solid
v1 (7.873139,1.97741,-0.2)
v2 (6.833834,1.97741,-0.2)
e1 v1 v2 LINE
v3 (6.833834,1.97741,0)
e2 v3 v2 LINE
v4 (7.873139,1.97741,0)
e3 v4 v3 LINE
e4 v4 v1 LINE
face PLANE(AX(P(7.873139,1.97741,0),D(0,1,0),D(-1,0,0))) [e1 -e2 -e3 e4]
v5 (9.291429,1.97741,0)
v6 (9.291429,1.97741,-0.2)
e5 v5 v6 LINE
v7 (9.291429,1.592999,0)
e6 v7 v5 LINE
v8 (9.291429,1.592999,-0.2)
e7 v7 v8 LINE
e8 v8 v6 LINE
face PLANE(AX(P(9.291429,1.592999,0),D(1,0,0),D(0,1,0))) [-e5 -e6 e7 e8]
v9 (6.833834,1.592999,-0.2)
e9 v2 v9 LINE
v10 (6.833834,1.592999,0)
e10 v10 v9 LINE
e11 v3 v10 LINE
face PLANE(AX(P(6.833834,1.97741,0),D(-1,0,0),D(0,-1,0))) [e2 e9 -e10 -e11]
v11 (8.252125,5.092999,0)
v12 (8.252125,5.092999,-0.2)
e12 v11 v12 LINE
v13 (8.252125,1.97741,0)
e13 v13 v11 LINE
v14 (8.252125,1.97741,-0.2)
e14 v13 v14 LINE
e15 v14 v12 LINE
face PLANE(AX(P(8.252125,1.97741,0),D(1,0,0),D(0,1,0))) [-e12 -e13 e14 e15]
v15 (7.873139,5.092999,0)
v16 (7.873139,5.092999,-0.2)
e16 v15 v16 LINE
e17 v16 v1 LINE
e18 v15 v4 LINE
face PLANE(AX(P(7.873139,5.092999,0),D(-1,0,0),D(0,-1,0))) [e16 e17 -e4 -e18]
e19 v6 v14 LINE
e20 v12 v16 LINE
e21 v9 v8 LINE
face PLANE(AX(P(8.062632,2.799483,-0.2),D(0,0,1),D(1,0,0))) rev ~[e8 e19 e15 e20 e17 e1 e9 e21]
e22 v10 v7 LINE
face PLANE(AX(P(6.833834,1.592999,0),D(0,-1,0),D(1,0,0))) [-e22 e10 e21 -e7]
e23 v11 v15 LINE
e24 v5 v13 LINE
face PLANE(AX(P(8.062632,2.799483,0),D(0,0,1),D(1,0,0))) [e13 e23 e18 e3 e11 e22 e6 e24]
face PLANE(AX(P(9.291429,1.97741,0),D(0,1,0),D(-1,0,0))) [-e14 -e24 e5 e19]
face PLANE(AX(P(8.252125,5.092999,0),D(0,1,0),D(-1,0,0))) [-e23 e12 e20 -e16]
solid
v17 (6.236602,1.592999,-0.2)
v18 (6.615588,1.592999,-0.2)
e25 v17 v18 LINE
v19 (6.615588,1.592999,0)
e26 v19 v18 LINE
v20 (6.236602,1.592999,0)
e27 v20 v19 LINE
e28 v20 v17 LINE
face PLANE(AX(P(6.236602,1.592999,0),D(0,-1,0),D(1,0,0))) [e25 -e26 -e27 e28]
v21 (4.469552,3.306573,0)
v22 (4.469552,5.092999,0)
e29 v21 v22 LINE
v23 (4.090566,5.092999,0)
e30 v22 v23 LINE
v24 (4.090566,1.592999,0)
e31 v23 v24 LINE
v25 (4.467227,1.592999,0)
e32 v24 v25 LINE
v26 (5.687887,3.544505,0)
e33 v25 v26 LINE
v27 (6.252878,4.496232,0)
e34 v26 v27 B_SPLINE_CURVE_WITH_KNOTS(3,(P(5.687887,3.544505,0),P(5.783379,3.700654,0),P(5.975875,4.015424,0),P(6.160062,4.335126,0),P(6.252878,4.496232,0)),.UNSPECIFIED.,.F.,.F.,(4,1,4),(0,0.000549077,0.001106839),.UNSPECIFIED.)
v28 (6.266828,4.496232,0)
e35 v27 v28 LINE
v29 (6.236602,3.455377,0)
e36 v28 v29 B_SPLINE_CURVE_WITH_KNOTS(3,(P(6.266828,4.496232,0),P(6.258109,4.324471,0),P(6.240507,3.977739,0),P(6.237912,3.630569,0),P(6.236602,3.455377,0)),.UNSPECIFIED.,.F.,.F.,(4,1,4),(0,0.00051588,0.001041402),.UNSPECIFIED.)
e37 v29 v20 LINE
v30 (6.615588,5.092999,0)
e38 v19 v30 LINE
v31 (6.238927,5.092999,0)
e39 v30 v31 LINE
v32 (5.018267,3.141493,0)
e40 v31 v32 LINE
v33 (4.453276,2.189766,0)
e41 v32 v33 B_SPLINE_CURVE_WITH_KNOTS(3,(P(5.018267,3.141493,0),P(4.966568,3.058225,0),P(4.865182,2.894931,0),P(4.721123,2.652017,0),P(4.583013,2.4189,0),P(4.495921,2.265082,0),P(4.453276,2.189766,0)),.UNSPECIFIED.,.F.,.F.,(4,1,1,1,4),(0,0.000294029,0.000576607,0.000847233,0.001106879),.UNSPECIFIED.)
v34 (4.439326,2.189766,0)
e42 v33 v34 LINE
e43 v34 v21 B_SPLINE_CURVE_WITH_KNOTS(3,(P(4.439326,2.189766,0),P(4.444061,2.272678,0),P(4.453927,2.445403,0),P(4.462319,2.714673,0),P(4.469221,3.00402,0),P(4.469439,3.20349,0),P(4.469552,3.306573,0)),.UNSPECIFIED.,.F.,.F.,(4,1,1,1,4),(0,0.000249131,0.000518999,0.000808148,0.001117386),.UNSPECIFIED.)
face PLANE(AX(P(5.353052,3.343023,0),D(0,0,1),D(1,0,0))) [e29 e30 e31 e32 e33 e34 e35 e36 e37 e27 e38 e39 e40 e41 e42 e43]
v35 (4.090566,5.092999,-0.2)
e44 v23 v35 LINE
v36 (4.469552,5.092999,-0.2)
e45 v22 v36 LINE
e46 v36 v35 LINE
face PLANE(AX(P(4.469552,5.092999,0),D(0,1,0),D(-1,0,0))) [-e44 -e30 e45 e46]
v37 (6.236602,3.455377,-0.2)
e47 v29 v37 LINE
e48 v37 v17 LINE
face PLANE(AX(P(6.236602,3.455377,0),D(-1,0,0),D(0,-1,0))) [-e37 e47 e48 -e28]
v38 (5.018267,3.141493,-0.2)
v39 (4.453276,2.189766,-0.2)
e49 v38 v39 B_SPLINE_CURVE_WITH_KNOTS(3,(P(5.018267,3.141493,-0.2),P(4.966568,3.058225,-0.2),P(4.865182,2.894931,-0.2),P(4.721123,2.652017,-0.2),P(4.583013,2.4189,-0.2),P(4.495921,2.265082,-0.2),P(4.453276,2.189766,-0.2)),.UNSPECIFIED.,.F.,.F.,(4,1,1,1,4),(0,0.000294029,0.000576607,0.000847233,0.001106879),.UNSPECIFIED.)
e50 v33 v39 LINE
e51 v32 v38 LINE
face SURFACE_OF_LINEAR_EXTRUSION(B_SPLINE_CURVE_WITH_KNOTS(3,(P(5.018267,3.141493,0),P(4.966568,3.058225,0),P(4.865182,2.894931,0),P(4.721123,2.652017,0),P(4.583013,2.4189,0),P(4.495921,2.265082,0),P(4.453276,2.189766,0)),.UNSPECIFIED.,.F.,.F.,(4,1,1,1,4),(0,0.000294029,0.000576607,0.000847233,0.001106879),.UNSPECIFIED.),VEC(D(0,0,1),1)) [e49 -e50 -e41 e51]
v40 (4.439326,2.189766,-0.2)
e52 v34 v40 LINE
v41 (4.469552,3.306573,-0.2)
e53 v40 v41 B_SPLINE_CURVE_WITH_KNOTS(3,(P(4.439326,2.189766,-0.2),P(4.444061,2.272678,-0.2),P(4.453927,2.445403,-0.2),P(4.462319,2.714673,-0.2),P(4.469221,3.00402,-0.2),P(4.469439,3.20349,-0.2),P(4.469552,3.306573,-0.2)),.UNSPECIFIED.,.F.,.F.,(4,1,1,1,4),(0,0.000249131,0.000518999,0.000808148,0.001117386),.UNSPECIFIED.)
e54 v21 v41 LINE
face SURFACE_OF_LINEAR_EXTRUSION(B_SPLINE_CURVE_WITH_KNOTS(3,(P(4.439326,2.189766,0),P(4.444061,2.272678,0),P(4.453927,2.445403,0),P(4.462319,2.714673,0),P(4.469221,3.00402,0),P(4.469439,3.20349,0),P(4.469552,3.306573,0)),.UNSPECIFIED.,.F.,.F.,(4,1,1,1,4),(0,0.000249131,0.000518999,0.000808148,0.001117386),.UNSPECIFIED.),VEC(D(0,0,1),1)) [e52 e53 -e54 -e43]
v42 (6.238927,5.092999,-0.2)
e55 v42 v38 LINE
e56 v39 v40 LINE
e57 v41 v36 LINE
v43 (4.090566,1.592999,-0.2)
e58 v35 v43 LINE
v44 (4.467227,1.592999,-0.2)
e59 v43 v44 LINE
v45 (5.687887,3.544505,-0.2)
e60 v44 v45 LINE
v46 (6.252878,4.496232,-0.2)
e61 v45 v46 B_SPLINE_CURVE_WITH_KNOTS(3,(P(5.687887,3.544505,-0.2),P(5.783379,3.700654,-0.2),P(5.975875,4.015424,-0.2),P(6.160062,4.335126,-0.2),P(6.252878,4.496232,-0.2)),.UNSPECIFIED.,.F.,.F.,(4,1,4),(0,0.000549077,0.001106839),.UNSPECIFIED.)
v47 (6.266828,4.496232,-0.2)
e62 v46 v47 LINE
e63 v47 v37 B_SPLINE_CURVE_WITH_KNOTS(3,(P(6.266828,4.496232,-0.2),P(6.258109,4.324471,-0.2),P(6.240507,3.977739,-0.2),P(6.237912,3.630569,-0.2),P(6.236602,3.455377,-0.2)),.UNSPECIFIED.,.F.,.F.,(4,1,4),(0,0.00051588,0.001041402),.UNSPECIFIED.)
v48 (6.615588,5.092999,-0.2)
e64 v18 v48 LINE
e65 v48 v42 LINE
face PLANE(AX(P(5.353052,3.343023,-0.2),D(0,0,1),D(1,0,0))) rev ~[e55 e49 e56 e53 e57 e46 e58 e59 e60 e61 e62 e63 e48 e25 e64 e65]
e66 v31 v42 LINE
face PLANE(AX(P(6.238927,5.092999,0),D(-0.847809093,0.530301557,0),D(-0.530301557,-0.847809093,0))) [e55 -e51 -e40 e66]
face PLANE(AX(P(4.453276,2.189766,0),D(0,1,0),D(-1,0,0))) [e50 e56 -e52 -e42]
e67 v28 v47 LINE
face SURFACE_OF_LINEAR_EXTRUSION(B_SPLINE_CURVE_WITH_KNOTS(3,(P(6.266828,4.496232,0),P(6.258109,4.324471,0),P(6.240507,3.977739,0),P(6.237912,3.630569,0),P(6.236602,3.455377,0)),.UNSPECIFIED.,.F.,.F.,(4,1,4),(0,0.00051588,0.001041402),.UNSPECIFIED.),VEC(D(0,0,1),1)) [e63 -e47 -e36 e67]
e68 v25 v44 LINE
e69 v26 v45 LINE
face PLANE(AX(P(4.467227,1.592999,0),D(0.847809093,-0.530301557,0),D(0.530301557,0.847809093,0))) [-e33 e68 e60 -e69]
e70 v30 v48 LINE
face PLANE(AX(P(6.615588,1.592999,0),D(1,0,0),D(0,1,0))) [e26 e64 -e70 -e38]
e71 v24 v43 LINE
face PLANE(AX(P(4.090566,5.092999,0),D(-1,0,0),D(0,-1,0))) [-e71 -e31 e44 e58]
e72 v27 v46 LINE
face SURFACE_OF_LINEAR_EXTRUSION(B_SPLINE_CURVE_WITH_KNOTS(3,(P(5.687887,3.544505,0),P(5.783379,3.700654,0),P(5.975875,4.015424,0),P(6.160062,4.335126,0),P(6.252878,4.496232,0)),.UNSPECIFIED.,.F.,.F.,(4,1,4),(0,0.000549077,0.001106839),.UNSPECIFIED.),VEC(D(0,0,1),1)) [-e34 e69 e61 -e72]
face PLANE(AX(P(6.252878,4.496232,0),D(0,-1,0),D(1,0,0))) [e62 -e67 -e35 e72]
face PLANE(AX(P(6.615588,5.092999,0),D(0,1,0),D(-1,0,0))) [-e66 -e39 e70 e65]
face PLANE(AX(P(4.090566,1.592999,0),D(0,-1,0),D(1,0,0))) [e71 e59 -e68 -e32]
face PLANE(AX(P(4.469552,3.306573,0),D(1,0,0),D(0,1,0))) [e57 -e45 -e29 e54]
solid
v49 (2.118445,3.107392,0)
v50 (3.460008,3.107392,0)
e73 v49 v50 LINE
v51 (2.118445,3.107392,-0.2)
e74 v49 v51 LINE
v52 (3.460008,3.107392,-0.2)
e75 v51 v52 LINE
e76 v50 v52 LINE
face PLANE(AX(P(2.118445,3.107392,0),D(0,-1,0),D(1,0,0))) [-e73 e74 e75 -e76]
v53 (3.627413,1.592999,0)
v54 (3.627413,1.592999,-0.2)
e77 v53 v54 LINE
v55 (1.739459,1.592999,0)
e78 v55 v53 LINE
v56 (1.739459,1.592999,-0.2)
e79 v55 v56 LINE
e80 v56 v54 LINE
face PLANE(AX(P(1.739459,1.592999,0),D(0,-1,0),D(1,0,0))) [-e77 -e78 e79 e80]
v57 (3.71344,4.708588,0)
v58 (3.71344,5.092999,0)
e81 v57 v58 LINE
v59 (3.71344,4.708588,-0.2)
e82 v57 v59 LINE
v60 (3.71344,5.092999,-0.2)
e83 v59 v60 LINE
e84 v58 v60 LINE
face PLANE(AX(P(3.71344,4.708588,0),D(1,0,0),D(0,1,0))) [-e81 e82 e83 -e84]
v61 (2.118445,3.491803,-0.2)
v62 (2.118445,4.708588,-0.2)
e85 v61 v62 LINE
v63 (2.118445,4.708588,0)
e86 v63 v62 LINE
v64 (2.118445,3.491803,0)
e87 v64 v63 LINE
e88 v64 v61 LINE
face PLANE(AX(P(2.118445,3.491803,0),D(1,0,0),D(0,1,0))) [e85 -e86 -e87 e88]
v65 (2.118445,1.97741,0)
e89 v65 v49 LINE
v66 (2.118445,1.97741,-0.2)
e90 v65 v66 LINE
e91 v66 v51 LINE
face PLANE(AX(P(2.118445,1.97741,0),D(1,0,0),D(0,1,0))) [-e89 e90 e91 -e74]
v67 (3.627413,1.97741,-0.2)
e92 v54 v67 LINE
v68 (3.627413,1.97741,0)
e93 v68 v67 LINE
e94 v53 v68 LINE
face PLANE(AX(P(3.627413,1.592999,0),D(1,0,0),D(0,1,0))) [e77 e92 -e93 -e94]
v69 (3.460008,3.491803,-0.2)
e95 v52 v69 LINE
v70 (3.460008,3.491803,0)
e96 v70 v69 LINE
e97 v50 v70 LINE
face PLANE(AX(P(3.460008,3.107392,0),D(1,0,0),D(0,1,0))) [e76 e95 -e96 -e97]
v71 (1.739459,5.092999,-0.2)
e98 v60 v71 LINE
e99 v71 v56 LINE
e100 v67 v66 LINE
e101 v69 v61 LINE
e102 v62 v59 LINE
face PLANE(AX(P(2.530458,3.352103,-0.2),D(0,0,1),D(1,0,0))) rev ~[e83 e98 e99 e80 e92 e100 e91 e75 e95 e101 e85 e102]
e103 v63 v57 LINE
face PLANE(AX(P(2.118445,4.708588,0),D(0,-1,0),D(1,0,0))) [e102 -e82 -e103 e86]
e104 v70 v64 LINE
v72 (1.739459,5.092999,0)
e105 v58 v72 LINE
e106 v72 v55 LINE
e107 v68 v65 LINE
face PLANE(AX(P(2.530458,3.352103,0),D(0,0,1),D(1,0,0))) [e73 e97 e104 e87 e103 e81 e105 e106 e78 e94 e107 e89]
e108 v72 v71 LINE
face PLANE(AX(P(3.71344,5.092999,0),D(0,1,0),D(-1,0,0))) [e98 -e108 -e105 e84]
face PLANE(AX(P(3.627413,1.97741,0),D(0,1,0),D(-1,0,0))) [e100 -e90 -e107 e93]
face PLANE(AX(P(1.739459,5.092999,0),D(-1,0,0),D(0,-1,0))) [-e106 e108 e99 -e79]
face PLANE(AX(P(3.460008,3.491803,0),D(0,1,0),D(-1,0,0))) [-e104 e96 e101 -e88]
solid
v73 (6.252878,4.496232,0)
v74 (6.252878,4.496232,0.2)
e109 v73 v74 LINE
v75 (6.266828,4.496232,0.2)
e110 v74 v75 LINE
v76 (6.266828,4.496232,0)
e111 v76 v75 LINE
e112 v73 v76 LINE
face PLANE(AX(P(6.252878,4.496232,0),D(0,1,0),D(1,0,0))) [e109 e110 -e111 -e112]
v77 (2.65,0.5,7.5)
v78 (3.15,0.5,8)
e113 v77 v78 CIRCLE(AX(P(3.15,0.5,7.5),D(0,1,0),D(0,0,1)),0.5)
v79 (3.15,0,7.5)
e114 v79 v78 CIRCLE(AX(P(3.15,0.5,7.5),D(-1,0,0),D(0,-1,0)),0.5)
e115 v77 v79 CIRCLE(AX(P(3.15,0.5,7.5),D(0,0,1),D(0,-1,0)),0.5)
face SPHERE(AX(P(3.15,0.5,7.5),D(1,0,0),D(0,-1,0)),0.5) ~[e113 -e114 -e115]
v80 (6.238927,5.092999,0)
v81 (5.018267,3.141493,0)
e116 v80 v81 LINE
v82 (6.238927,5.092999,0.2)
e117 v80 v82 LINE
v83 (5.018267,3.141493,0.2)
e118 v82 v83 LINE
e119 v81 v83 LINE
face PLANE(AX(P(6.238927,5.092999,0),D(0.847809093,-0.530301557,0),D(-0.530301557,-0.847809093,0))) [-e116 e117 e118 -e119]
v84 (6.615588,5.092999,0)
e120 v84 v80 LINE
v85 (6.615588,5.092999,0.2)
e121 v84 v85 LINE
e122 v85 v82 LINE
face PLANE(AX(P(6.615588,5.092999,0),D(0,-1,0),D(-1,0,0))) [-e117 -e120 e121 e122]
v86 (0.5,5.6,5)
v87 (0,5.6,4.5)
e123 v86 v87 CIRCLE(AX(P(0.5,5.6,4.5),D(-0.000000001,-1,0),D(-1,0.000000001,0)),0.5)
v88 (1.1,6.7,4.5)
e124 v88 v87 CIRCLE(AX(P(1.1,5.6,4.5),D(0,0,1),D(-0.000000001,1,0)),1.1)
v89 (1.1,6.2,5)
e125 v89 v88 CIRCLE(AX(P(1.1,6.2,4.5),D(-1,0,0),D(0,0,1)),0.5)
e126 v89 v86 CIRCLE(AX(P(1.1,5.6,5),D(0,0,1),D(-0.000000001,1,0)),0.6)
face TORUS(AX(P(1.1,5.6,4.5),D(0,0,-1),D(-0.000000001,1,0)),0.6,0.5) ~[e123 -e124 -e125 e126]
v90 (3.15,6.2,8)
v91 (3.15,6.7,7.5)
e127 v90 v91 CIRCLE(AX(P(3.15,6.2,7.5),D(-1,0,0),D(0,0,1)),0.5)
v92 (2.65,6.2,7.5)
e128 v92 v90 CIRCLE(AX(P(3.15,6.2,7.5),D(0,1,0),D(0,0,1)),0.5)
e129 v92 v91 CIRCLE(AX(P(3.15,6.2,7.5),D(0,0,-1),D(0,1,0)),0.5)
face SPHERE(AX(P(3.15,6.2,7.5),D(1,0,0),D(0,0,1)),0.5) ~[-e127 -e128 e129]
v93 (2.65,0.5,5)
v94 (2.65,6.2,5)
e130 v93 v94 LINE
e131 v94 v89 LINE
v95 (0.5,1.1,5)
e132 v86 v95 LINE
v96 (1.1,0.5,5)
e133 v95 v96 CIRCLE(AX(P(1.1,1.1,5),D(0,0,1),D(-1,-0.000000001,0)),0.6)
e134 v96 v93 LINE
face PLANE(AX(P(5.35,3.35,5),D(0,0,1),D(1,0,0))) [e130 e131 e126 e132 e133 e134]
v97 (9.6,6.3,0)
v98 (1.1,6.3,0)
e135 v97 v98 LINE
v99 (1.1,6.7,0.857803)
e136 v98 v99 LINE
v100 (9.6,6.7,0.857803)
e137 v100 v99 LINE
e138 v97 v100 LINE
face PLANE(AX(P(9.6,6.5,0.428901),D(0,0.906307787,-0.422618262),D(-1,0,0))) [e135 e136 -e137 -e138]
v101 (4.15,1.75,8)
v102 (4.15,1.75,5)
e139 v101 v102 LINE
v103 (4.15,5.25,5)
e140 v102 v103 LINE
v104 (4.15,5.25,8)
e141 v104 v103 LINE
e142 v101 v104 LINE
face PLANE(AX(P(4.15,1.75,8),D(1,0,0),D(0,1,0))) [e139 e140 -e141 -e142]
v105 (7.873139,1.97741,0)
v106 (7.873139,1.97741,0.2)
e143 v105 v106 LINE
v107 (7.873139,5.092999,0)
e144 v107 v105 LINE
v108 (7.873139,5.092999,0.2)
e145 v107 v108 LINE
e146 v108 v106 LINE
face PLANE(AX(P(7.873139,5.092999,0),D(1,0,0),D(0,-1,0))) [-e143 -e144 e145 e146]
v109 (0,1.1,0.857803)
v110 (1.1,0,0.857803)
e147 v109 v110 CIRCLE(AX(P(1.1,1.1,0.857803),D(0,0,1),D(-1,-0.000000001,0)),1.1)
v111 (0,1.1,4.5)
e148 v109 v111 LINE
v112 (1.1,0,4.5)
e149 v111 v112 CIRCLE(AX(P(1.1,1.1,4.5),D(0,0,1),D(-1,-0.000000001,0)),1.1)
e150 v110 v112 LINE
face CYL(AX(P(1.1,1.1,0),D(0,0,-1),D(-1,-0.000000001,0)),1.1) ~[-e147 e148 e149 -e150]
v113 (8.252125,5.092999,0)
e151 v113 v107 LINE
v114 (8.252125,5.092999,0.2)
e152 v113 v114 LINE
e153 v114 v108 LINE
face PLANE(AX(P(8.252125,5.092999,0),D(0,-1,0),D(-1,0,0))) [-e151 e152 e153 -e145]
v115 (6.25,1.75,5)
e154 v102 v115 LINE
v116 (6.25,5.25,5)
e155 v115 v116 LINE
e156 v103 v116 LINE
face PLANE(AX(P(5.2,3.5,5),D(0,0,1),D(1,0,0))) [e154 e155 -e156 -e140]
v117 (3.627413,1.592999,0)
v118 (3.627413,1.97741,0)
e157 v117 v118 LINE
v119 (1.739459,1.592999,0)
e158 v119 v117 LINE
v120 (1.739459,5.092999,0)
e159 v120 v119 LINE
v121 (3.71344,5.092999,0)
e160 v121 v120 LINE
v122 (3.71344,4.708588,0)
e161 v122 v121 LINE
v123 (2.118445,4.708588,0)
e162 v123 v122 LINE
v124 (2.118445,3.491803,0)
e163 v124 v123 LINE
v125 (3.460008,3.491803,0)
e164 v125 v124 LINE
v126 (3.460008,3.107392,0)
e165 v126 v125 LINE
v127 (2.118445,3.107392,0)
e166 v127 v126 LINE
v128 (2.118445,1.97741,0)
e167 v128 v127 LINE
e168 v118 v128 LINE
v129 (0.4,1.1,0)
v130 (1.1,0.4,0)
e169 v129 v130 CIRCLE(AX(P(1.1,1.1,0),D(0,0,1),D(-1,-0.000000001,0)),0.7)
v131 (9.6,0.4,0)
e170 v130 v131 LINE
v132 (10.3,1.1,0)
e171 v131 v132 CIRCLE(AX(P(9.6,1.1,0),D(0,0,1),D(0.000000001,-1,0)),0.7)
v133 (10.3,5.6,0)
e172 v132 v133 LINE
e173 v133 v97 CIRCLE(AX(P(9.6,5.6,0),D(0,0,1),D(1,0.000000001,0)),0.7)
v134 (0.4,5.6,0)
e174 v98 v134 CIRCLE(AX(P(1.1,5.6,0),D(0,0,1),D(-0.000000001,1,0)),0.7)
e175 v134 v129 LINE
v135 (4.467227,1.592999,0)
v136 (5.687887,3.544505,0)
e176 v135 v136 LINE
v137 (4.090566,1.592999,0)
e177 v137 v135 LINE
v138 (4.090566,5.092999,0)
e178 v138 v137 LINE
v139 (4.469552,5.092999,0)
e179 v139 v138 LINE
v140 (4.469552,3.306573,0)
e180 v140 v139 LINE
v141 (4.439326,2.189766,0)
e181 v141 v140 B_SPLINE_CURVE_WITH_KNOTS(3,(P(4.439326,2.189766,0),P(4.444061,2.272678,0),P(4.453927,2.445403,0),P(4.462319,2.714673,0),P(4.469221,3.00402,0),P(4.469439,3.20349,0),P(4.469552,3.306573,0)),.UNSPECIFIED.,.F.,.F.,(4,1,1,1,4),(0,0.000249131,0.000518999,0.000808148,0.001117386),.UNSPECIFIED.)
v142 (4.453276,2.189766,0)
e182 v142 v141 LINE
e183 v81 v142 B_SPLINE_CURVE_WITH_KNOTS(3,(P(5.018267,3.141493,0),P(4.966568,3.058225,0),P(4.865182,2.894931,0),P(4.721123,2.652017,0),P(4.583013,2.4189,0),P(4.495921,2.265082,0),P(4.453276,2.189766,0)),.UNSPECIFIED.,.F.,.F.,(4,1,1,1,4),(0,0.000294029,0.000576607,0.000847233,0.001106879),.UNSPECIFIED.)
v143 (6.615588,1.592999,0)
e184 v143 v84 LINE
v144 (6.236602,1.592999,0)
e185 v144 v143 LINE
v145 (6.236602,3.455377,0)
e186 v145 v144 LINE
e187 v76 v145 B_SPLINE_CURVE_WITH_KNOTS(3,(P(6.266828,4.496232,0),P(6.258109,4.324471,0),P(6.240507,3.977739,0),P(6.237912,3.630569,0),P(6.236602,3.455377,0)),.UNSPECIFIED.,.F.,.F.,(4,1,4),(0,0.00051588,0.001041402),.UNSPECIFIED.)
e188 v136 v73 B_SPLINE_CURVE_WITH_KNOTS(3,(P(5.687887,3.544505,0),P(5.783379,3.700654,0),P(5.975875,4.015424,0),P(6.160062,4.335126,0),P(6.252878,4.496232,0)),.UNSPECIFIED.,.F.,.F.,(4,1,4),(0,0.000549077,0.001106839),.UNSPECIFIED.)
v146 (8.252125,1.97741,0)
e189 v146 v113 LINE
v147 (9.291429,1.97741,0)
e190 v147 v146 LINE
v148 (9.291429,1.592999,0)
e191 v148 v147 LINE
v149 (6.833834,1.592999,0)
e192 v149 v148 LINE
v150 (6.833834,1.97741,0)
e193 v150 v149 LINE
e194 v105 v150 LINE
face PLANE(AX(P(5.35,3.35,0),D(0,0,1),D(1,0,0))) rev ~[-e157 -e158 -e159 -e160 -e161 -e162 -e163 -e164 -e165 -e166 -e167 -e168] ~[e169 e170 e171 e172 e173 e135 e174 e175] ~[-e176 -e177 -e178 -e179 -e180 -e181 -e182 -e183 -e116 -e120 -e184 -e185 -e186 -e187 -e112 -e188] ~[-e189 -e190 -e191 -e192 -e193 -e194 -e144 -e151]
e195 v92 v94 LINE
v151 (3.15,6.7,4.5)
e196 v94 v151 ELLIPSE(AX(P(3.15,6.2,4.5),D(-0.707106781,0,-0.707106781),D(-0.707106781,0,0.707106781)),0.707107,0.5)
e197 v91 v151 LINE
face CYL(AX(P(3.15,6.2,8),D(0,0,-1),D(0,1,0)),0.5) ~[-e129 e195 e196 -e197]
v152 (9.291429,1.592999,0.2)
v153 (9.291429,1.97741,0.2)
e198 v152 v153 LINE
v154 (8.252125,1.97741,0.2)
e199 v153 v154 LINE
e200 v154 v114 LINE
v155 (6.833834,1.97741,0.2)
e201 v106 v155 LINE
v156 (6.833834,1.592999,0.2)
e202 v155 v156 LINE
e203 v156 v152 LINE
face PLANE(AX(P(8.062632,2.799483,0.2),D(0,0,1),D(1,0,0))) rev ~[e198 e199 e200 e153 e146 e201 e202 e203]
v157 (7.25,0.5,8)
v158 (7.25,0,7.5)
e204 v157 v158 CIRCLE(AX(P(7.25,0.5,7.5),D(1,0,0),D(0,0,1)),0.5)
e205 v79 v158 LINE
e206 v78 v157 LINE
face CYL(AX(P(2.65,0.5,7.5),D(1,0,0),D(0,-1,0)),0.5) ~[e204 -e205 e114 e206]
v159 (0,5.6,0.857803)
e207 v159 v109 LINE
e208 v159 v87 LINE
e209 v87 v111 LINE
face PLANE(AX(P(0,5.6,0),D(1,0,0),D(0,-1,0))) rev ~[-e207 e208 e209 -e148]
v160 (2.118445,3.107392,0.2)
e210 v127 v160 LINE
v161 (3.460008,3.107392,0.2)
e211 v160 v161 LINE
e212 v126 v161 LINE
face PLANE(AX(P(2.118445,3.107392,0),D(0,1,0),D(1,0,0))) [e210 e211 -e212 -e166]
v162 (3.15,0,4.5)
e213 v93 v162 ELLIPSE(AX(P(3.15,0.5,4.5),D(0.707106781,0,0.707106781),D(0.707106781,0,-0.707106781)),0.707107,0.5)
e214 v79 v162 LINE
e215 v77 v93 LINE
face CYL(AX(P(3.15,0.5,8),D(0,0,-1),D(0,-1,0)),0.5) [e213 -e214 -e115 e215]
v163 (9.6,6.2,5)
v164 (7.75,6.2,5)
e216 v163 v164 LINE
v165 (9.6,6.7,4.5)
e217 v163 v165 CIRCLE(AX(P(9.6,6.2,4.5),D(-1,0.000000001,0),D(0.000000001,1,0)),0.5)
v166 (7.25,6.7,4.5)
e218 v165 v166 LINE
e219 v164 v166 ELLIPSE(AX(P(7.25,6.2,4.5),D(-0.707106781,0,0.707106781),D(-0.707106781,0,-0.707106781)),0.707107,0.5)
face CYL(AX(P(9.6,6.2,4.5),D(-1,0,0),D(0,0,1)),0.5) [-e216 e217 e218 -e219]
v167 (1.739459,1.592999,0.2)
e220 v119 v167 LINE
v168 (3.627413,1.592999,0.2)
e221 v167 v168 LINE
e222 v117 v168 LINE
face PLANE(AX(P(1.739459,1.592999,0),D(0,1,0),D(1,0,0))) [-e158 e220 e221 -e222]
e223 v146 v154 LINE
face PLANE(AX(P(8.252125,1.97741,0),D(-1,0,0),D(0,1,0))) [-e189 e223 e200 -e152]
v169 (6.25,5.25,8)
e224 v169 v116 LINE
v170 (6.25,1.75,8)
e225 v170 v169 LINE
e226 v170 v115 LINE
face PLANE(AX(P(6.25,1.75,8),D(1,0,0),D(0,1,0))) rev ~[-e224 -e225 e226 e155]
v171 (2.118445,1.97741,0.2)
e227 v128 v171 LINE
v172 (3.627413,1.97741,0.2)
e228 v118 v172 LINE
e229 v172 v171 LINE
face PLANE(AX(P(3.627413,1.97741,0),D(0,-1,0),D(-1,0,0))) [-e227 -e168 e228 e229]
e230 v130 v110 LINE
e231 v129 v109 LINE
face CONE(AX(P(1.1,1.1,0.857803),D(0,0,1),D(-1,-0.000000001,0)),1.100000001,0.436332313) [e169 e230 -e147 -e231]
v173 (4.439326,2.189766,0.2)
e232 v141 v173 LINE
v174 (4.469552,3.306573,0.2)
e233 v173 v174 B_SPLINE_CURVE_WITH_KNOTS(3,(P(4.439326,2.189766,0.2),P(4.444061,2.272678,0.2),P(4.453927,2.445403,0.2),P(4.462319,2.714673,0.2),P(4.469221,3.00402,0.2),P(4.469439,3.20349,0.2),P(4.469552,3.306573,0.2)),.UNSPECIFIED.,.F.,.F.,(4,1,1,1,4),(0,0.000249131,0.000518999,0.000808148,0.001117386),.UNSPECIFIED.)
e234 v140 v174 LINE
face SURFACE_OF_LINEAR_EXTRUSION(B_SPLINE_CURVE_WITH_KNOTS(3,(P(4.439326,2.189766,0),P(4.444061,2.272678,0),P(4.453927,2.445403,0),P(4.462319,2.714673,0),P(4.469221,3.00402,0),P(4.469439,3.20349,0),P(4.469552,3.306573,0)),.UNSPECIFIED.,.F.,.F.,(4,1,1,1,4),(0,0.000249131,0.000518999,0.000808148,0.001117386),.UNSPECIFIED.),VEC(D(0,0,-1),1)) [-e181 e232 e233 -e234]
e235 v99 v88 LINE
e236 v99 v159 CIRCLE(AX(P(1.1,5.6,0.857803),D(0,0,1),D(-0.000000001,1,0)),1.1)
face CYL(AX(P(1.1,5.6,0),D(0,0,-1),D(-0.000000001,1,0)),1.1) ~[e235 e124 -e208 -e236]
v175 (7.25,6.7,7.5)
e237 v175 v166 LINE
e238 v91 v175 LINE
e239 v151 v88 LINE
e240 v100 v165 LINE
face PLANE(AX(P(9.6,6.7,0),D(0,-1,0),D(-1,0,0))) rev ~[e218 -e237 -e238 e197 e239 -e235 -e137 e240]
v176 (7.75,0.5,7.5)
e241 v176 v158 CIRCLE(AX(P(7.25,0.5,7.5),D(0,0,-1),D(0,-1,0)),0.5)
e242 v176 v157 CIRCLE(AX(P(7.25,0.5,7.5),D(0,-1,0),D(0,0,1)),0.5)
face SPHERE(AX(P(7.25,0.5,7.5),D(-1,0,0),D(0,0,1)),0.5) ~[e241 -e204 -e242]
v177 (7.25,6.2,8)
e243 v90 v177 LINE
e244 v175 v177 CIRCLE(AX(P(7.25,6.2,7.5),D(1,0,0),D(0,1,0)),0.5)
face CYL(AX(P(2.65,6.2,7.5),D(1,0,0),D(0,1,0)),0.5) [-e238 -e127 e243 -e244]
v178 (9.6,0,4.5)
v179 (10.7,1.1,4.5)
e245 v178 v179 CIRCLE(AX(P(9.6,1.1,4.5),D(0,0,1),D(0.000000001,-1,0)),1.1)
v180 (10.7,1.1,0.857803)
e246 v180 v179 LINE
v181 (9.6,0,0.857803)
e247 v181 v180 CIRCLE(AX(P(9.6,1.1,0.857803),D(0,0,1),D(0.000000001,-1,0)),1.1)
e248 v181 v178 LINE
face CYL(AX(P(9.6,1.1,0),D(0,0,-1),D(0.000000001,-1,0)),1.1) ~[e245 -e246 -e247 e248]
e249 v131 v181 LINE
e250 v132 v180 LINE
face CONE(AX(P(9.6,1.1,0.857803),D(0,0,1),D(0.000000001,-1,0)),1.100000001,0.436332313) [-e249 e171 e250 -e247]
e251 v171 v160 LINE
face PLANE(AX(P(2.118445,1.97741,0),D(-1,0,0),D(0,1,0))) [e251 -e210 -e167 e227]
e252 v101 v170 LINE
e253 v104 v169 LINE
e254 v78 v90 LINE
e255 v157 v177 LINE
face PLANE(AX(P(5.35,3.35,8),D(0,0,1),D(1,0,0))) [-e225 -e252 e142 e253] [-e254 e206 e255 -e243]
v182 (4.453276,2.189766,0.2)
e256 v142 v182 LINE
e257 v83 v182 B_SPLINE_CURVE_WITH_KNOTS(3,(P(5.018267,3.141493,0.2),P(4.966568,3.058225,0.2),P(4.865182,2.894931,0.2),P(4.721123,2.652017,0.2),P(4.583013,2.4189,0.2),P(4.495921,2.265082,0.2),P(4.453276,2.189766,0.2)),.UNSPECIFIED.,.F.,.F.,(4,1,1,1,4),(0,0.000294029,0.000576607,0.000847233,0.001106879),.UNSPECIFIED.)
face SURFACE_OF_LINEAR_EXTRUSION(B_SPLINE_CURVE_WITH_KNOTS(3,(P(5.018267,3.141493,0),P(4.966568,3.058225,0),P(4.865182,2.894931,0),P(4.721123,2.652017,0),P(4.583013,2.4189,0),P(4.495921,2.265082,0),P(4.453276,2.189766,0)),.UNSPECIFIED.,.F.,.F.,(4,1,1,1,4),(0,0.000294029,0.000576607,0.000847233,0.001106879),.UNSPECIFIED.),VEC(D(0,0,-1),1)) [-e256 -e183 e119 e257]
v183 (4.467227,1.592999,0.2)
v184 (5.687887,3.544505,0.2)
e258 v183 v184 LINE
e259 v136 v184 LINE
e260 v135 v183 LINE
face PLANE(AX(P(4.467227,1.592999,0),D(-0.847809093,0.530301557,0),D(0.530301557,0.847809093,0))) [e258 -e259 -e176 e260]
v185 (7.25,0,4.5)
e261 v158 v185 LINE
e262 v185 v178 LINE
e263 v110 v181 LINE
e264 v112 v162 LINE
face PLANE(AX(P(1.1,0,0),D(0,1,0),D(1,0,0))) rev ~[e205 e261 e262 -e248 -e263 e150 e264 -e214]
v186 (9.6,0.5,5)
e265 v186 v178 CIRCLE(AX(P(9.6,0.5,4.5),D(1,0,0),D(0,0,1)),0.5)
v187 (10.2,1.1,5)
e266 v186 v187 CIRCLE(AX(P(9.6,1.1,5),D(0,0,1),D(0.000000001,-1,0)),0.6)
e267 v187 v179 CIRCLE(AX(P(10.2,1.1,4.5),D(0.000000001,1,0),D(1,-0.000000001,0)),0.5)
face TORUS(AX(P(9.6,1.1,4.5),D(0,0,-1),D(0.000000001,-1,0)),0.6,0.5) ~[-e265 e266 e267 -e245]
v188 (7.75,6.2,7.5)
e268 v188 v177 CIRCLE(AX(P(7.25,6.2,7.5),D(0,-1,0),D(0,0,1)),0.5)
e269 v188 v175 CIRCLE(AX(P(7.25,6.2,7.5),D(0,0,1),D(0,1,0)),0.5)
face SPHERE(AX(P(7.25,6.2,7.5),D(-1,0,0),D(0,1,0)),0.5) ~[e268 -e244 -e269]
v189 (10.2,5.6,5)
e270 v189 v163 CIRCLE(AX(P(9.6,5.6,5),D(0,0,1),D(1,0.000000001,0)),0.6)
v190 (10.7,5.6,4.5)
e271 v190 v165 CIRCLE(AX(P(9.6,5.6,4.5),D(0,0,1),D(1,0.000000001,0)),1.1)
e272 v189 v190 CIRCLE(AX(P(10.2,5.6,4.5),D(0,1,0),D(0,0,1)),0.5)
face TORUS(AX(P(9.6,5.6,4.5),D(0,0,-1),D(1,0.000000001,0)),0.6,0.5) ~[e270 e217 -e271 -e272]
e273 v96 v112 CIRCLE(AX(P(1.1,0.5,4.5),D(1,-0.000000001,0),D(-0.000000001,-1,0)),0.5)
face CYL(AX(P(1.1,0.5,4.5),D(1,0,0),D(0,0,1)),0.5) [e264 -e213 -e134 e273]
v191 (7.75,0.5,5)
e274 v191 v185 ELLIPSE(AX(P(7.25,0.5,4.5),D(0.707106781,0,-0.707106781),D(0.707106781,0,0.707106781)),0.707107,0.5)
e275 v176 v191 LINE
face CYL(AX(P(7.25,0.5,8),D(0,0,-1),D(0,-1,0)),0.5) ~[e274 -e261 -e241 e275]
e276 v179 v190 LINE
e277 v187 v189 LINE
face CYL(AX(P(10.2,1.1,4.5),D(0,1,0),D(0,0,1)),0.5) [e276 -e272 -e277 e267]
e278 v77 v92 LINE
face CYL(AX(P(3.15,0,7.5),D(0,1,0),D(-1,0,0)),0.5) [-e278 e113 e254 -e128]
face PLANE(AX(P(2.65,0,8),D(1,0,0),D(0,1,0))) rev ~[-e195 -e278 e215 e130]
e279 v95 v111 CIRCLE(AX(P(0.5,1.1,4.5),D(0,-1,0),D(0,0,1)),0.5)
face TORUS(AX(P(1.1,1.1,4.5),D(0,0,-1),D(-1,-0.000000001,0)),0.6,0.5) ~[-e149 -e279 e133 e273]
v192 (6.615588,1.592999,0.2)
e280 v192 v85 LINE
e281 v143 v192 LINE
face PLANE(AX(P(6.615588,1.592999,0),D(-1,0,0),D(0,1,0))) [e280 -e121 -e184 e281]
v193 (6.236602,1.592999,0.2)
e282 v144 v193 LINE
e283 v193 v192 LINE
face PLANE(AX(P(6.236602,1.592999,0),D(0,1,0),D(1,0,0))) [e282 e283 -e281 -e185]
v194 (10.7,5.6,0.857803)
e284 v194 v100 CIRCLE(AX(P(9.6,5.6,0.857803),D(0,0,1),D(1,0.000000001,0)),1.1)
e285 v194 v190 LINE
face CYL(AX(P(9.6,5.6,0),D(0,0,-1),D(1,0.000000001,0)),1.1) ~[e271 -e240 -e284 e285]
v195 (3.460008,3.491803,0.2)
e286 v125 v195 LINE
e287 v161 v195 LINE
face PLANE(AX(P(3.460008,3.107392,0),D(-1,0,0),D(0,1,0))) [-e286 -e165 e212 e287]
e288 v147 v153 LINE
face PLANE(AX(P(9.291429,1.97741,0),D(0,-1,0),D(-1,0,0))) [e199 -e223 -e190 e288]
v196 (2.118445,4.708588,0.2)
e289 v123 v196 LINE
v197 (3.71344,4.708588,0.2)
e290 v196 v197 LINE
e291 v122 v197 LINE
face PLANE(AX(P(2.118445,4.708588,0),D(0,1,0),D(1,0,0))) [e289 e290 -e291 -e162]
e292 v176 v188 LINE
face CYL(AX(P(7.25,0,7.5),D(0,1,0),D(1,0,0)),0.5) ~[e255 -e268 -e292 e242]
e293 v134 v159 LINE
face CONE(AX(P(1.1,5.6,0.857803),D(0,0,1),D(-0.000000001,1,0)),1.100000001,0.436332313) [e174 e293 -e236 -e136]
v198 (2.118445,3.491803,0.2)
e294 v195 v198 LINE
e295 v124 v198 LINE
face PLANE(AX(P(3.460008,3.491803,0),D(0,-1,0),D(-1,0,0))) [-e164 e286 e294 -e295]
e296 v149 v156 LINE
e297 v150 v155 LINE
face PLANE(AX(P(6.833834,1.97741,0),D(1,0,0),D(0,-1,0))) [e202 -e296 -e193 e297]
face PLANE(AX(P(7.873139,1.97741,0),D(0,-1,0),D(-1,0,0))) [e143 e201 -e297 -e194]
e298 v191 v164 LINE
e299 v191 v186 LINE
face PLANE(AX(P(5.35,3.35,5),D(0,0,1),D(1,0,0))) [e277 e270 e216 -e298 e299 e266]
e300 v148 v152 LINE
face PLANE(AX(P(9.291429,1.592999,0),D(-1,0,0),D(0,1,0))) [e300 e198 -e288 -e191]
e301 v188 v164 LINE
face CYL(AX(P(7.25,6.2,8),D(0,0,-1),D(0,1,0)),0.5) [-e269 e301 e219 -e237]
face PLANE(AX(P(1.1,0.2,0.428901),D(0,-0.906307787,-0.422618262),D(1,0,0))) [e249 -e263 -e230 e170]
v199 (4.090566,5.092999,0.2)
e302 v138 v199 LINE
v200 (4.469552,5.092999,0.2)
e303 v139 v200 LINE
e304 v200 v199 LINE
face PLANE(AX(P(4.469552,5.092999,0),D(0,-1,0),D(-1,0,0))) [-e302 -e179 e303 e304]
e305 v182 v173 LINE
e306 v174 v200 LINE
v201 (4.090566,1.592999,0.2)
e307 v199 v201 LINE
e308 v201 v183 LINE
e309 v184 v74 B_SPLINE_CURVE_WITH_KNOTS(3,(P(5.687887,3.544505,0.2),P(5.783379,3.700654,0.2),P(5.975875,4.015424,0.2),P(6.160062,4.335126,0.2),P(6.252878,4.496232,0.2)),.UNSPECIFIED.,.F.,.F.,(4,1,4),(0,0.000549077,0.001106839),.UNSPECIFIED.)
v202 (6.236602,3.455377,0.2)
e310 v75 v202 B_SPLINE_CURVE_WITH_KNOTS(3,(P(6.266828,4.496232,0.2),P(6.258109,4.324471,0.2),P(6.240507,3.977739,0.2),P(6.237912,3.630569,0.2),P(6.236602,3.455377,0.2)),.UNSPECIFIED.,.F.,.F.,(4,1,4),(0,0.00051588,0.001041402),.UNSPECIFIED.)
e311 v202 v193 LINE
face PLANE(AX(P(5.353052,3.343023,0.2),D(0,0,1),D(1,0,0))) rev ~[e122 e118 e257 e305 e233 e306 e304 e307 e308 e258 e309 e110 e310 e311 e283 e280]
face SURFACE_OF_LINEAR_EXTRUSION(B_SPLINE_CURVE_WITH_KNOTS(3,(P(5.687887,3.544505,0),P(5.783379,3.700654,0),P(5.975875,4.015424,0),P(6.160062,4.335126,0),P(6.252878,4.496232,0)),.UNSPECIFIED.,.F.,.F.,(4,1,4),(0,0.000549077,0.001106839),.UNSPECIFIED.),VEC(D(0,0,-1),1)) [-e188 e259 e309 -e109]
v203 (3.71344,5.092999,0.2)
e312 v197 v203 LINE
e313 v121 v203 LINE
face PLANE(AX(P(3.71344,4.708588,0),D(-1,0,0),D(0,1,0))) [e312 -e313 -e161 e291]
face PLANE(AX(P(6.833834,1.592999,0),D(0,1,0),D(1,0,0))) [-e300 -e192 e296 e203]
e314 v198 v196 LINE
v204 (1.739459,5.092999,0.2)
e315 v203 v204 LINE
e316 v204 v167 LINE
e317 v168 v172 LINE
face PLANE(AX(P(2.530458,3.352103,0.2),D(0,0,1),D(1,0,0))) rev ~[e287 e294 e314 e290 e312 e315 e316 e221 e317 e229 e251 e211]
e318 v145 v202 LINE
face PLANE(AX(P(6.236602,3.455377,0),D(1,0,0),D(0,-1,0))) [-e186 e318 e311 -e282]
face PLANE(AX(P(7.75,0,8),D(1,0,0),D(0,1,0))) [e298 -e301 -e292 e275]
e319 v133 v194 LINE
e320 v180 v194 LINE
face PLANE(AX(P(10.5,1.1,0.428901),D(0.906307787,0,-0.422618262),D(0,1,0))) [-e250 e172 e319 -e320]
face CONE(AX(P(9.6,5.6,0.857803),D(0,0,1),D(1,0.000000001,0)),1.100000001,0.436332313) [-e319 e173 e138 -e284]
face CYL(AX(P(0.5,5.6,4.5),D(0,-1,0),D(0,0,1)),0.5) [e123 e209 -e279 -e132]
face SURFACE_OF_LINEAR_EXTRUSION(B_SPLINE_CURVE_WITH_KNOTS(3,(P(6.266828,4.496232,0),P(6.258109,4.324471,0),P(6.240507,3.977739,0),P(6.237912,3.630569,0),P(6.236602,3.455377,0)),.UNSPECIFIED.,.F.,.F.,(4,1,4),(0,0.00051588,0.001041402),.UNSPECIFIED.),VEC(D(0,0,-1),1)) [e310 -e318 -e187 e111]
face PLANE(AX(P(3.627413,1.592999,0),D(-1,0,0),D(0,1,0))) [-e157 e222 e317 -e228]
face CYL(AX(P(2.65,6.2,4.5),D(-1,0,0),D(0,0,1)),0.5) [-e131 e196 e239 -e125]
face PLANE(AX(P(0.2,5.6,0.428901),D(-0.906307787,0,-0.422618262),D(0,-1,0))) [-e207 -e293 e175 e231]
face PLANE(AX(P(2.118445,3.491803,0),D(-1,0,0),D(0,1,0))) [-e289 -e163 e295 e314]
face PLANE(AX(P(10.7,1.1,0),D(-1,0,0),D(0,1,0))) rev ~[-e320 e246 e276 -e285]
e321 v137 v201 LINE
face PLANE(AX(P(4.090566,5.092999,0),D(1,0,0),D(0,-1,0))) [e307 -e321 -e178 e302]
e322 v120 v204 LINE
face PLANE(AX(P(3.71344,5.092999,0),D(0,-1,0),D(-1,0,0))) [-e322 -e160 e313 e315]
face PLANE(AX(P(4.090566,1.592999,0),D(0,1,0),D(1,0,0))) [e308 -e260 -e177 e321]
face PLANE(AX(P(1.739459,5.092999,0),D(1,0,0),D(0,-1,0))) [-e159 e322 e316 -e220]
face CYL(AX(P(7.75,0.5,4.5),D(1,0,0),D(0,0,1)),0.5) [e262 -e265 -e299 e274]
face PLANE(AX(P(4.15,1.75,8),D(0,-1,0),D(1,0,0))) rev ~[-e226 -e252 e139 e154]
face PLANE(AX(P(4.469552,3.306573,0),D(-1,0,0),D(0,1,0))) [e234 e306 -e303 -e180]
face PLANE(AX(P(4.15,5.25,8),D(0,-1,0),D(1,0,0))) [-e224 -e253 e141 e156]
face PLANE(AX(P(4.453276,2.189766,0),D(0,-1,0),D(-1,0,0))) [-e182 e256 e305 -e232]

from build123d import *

# Parameters (mm, degrees)
BOSS_EXTRU_1_DEPTH      = 8
ESQUISSE3_W             = 2.1
ESQUISSE3_H             = 3.5
ENL_V_MAT_EXTRU_1_DEPTH = 3
ESQUISSE4_OUTSIDE_W     = 15.69
ESQUISSE4_OUTSIDE_H     = 11.69
ESQUISSE4_OUTSIDE_W_2   = 5.1
ESQUISSE4_OUTSIDE_H_2   = 6.7
ENL_V_MAT_EXTRU_2_DEPTH = 3
CONG_1_R                = 0.5
CHANFREIN1_SIZE         = 0.4
CHANFREIN1_SIZE2        = 0.857802768
ENL_V_MAT_EXTRU_3_DEPTH = 0.2
BOSS_EXTRU_2_DEPTH      = 0.2
BOSS_EXTRU_2_2_DEPTH    = 0.2
BOSS_EXTRU_2_3_DEPTH    = 0.2


with BuildPart() as part:
    # Esquisse2 → Boss.-Extru.1 (new body)
    with BuildSketch(Plane.XY):
        with BuildLine():
            Line((1.1, 0), (9.6, 0))
            ThreePointArc((9.6, 0), (10.377817459, 0.322182541), (10.7, 1.1))
            Line((10.7, 1.1), (10.7, 5.6))
            ThreePointArc((10.7, 5.6), (10.377817459, 6.377817459), (9.6, 6.7))
            Line((9.6, 6.7), (1.1, 6.7))
            ThreePointArc((1.1, 6.7), (0.322182541, 6.377817459), (0, 5.6))
            Line((0, 5.6), (0, 1.1))
            ThreePointArc((0, 1.1), (0.322182541, 0.322182541), (1.1, 0))
        make_face()
    extrude(amount=BOSS_EXTRU_1_DEPTH)

    # Esquisse3 → Enlèv. mat.-Extru.1 (cut)
    with BuildSketch(Plane.XY.offset(8)):
        with Locations((5.2, 3.5)):
            Rectangle(ESQUISSE3_W, ESQUISSE3_H)
    extrude(amount=-ENL_V_MAT_EXTRU_1_DEPTH, mode=Mode.SUBTRACT)

    # Esquisse4 outside → Enlèv. mat.-Extru.2 (cut)
    with BuildSketch(Plane.XY.offset(8)):
        with Locations((5.35, 3.35)):
            Rectangle(ESQUISSE4_OUTSIDE_W, ESQUISSE4_OUTSIDE_H)
        with Locations((5.2, 3.35)):
            Rectangle(ESQUISSE4_OUTSIDE_W_2, ESQUISSE4_OUTSIDE_H_2, mode=Mode.SUBTRACT)
    extrude(amount=-ENL_V_MAT_EXTRU_2_DEPTH, mode=Mode.SUBTRACT)

    # Congé1
    cong_1_edges = [part.edges().sort_by_distance(p)[0] for p in [
        (8.675, 0, 5),
        (10.377817459, 0.322182541, 5),
        (10.7, 3.35, 5),
        (10.377817459, 6.377817459, 5),
        (1.875, 6.7, 5),
        (0.322182541, 6.377817459, 5),
        (1.875, 0, 5),
        (0.322182541, 0.322182541, 5),
        (7.75, 6.7, 6.5),
        (2.65, 6.7, 6.5),
        (7.75, 0, 6.5),
        (2.65, 0, 6.5),
        (2.65, 3.35, 8),
        (5.2, 6.7, 8),
        (7.75, 3.35, 8),
        (5.2, 0, 8),
        (8.675, 6.7, 5),
        (0, 3.35, 5),
    ]]
    fillet(cong_1_edges, radius=CONG_1_R)

    # Chanfrein1
    chanfrein1_edges = [part.edges().sort_by_distance(p)[0] for p in [
        (5.35, 0, 0),
        (10.377817459, 0.322182541, 0),
        (0.322182541, 0.322182541, 0),
        (10.7, 3.35, 0),
        (0, 3.35, 0),
        (10.377817459, 6.377817459, 0),
        (0.322182541, 6.377817459, 0),
        (5.35, 6.7, 0),
    ]]
    chanfrein1_side = [part.faces().sort_by_distance(p)[0] for p in [
        (5.35, 3.35, 0),
    ]]
    chamfer(chanfrein1_edges, length=CHANFREIN1_SIZE, length2=CHANFREIN1_SIZE2, reference=chanfrein1_side[0])

    # Esquisse5 → Enlèv. mat.-Extru.3 (cut)
    with BuildSketch(Plane.XY):
        Polygon((2.11844453, 4.708587918), (3.713440101, 4.708587918), (3.713440101, 5.092998901), (1.739458701, 5.092998901), (1.739458701, 1.592998901), (3.627412643, 1.592998901), (3.627412643, 1.977409884), (2.11844453, 1.977409884), (2.11844453, 3.107392169), (3.46000786, 3.107392169), (3.46000786, 3.491803153), (2.11844453, 3.491803153), align=None)
        with BuildLine():
            add(Edge.make_bspline(
                [(5.687886514, 3.544504658), (5.783379122, 3.700654457), (5.975874702, 4.015423806), (6.160061615, 4.33512635), (6.252877656, 4.49623185)],
                knots=[0, 0, 0, 0, 0.992153778, 2, 2, 2, 2], degree=3))
            Line((6.252877656, 4.49623185), (6.266828055, 4.49623185))
            add(Edge.make_bspline(
                [(6.266828055, 4.49623185), (6.258108677, 4.324471085), (6.240506943, 3.977739075), (6.237911785, 3.630569277), (6.236602191, 3.455377112)],
                knots=[0, 0, 0, 0, 0.990740747, 2, 2, 2, 2], degree=3))
            Line((6.236602191, 3.455377112), (6.236602191, 1.592998901))
            Line((6.236602191, 1.592998901), (6.615588019, 1.592998901))
            Line((6.615588019, 1.592998901), (6.615588019, 5.092998901))
            Line((6.615588019, 5.092998901), (6.238927258, 5.092998901))
            Line((6.238927258, 5.092998901), (5.018267382, 3.141493144))
            add(Edge.make_bspline(
                [(5.018267382, 3.141493144), (4.966567896, 3.058224881), (4.865182286, 2.894931114), (4.721122886, 2.652016731), (4.583012533, 2.418899666), (4.495920572, 2.265082227), (4.453276239, 2.189765951)],
                knots=[0, 0, 0, 0, 1.062550423, 2.083721383, 3.06169958, 4, 4, 4, 4], degree=3))
            Line((4.453276239, 2.189765951), (4.439325841, 2.189765951))
            add(Edge.make_bspline(
                [(4.439325841, 2.189765951), (4.444061402, 2.27267783), (4.453926705, 2.445403045), (4.462318939, 2.714672702), (4.469221198, 3.004020303), (4.469439097, 3.20348993), (4.469551704, 3.30657286)],
                knots=[0, 0, 0, 0, 0.891833965, 1.85790283, 2.892996115, 4, 4, 4, 4], degree=3))
            Line((4.469551704, 3.30657286), (4.469551704, 5.092998901))
            Line((4.469551704, 5.092998901), (4.090565876, 5.092998901))
            Line((4.090565876, 5.092998901), (4.090565876, 1.592998901))
            Line((4.090565876, 1.592998901), (4.467226638, 1.592998901))
            Line((4.467226638, 1.592998901), (5.687886514, 3.544504658))
        make_face()
        Polygon((8.252124778, 5.092998901), (7.873138949, 5.092998901), (7.873138949, 1.977409884), (6.833834255, 1.977409884), (6.833834255, 1.592998901), (9.291429472, 1.592998901), (9.291429472, 1.977409884), (8.252124778, 1.977409884), align=None)
    extrude(amount=ENL_V_MAT_EXTRU_3_DEPTH, mode=Mode.SUBTRACT)


with BuildPart() as body_2:
    # Esquisse5<4> → Boss.-Extru.2 (new body)
    with BuildSketch(Plane.XY):
        Polygon((2.11844453, 4.708587918), (3.713440101, 4.708587918), (3.713440101, 5.092998901), (1.739458701, 5.092998901), (1.739458701, 1.592998901), (3.627412643, 1.592998901), (3.627412643, 1.977409884), (2.11844453, 1.977409884), (2.11844453, 3.107392169), (3.46000786, 3.107392169), (3.46000786, 3.491803153), (2.11844453, 3.491803153), align=None)
    extrude(amount=-BOSS_EXTRU_2_DEPTH)


with BuildPart() as body_3:
    # Esquisse5<4> → Boss.-Extru.2 2 (new body)
    with BuildSketch(Plane.XY):
        with BuildLine():
            add(Edge.make_bspline(
                [(5.687886514, 3.544504658), (5.783379122, 3.700654457), (5.975874702, 4.015423806), (6.160061615, 4.33512635), (6.252877656, 4.49623185)],
                knots=[0, 0, 0, 0, 0.992153778, 2, 2, 2, 2], degree=3))
            Line((6.252877656, 4.49623185), (6.266828055, 4.49623185))
            add(Edge.make_bspline(
                [(6.266828055, 4.49623185), (6.258108677, 4.324471085), (6.240506943, 3.977739075), (6.237911785, 3.630569277), (6.236602191, 3.455377112)],
                knots=[0, 0, 0, 0, 0.990740747, 2, 2, 2, 2], degree=3))
            Line((6.236602191, 3.455377112), (6.236602191, 1.592998901))
            Line((6.236602191, 1.592998901), (6.615588019, 1.592998901))
            Line((6.615588019, 1.592998901), (6.615588019, 5.092998901))
            Line((6.615588019, 5.092998901), (6.238927258, 5.092998901))
            Line((6.238927258, 5.092998901), (5.018267382, 3.141493144))
            add(Edge.make_bspline(
                [(5.018267382, 3.141493144), (4.966567896, 3.058224881), (4.865182286, 2.894931114), (4.721122886, 2.652016731), (4.583012533, 2.418899666), (4.495920572, 2.265082227), (4.453276239, 2.189765951)],
                knots=[0, 0, 0, 0, 1.062550423, 2.083721383, 3.06169958, 4, 4, 4, 4], degree=3))
            Line((4.453276239, 2.189765951), (4.439325841, 2.189765951))
            add(Edge.make_bspline(
                [(4.439325841, 2.189765951), (4.444061402, 2.27267783), (4.453926705, 2.445403045), (4.462318939, 2.714672702), (4.469221198, 3.004020303), (4.469439097, 3.20348993), (4.469551704, 3.30657286)],
                knots=[0, 0, 0, 0, 0.891833965, 1.85790283, 2.892996115, 4, 4, 4, 4], degree=3))
            Line((4.469551704, 3.30657286), (4.469551704, 5.092998901))
            Line((4.469551704, 5.092998901), (4.090565876, 5.092998901))
            Line((4.090565876, 5.092998901), (4.090565876, 1.592998901))
            Line((4.090565876, 1.592998901), (4.467226638, 1.592998901))
            Line((4.467226638, 1.592998901), (5.687886514, 3.544504658))
        make_face()
    extrude(amount=-BOSS_EXTRU_2_2_DEPTH)


with BuildPart() as body_4:
    # Esquisse5<4> → Boss.-Extru.2 3 (new body)
    with BuildSketch(Plane.XY):
        Polygon((8.252124778, 5.092998901), (7.873138949, 5.092998901), (7.873138949, 1.977409884), (6.833834255, 1.977409884), (6.833834255, 1.592998901), (9.291429472, 1.592998901), (9.291429472, 1.977409884), (8.252124778, 1.977409884), align=None)
    extrude(amount=-BOSS_EXTRU_2_3_DEPTH)


solid = Compound([part.part, body_2.part, body_3.part, body_4.part])
